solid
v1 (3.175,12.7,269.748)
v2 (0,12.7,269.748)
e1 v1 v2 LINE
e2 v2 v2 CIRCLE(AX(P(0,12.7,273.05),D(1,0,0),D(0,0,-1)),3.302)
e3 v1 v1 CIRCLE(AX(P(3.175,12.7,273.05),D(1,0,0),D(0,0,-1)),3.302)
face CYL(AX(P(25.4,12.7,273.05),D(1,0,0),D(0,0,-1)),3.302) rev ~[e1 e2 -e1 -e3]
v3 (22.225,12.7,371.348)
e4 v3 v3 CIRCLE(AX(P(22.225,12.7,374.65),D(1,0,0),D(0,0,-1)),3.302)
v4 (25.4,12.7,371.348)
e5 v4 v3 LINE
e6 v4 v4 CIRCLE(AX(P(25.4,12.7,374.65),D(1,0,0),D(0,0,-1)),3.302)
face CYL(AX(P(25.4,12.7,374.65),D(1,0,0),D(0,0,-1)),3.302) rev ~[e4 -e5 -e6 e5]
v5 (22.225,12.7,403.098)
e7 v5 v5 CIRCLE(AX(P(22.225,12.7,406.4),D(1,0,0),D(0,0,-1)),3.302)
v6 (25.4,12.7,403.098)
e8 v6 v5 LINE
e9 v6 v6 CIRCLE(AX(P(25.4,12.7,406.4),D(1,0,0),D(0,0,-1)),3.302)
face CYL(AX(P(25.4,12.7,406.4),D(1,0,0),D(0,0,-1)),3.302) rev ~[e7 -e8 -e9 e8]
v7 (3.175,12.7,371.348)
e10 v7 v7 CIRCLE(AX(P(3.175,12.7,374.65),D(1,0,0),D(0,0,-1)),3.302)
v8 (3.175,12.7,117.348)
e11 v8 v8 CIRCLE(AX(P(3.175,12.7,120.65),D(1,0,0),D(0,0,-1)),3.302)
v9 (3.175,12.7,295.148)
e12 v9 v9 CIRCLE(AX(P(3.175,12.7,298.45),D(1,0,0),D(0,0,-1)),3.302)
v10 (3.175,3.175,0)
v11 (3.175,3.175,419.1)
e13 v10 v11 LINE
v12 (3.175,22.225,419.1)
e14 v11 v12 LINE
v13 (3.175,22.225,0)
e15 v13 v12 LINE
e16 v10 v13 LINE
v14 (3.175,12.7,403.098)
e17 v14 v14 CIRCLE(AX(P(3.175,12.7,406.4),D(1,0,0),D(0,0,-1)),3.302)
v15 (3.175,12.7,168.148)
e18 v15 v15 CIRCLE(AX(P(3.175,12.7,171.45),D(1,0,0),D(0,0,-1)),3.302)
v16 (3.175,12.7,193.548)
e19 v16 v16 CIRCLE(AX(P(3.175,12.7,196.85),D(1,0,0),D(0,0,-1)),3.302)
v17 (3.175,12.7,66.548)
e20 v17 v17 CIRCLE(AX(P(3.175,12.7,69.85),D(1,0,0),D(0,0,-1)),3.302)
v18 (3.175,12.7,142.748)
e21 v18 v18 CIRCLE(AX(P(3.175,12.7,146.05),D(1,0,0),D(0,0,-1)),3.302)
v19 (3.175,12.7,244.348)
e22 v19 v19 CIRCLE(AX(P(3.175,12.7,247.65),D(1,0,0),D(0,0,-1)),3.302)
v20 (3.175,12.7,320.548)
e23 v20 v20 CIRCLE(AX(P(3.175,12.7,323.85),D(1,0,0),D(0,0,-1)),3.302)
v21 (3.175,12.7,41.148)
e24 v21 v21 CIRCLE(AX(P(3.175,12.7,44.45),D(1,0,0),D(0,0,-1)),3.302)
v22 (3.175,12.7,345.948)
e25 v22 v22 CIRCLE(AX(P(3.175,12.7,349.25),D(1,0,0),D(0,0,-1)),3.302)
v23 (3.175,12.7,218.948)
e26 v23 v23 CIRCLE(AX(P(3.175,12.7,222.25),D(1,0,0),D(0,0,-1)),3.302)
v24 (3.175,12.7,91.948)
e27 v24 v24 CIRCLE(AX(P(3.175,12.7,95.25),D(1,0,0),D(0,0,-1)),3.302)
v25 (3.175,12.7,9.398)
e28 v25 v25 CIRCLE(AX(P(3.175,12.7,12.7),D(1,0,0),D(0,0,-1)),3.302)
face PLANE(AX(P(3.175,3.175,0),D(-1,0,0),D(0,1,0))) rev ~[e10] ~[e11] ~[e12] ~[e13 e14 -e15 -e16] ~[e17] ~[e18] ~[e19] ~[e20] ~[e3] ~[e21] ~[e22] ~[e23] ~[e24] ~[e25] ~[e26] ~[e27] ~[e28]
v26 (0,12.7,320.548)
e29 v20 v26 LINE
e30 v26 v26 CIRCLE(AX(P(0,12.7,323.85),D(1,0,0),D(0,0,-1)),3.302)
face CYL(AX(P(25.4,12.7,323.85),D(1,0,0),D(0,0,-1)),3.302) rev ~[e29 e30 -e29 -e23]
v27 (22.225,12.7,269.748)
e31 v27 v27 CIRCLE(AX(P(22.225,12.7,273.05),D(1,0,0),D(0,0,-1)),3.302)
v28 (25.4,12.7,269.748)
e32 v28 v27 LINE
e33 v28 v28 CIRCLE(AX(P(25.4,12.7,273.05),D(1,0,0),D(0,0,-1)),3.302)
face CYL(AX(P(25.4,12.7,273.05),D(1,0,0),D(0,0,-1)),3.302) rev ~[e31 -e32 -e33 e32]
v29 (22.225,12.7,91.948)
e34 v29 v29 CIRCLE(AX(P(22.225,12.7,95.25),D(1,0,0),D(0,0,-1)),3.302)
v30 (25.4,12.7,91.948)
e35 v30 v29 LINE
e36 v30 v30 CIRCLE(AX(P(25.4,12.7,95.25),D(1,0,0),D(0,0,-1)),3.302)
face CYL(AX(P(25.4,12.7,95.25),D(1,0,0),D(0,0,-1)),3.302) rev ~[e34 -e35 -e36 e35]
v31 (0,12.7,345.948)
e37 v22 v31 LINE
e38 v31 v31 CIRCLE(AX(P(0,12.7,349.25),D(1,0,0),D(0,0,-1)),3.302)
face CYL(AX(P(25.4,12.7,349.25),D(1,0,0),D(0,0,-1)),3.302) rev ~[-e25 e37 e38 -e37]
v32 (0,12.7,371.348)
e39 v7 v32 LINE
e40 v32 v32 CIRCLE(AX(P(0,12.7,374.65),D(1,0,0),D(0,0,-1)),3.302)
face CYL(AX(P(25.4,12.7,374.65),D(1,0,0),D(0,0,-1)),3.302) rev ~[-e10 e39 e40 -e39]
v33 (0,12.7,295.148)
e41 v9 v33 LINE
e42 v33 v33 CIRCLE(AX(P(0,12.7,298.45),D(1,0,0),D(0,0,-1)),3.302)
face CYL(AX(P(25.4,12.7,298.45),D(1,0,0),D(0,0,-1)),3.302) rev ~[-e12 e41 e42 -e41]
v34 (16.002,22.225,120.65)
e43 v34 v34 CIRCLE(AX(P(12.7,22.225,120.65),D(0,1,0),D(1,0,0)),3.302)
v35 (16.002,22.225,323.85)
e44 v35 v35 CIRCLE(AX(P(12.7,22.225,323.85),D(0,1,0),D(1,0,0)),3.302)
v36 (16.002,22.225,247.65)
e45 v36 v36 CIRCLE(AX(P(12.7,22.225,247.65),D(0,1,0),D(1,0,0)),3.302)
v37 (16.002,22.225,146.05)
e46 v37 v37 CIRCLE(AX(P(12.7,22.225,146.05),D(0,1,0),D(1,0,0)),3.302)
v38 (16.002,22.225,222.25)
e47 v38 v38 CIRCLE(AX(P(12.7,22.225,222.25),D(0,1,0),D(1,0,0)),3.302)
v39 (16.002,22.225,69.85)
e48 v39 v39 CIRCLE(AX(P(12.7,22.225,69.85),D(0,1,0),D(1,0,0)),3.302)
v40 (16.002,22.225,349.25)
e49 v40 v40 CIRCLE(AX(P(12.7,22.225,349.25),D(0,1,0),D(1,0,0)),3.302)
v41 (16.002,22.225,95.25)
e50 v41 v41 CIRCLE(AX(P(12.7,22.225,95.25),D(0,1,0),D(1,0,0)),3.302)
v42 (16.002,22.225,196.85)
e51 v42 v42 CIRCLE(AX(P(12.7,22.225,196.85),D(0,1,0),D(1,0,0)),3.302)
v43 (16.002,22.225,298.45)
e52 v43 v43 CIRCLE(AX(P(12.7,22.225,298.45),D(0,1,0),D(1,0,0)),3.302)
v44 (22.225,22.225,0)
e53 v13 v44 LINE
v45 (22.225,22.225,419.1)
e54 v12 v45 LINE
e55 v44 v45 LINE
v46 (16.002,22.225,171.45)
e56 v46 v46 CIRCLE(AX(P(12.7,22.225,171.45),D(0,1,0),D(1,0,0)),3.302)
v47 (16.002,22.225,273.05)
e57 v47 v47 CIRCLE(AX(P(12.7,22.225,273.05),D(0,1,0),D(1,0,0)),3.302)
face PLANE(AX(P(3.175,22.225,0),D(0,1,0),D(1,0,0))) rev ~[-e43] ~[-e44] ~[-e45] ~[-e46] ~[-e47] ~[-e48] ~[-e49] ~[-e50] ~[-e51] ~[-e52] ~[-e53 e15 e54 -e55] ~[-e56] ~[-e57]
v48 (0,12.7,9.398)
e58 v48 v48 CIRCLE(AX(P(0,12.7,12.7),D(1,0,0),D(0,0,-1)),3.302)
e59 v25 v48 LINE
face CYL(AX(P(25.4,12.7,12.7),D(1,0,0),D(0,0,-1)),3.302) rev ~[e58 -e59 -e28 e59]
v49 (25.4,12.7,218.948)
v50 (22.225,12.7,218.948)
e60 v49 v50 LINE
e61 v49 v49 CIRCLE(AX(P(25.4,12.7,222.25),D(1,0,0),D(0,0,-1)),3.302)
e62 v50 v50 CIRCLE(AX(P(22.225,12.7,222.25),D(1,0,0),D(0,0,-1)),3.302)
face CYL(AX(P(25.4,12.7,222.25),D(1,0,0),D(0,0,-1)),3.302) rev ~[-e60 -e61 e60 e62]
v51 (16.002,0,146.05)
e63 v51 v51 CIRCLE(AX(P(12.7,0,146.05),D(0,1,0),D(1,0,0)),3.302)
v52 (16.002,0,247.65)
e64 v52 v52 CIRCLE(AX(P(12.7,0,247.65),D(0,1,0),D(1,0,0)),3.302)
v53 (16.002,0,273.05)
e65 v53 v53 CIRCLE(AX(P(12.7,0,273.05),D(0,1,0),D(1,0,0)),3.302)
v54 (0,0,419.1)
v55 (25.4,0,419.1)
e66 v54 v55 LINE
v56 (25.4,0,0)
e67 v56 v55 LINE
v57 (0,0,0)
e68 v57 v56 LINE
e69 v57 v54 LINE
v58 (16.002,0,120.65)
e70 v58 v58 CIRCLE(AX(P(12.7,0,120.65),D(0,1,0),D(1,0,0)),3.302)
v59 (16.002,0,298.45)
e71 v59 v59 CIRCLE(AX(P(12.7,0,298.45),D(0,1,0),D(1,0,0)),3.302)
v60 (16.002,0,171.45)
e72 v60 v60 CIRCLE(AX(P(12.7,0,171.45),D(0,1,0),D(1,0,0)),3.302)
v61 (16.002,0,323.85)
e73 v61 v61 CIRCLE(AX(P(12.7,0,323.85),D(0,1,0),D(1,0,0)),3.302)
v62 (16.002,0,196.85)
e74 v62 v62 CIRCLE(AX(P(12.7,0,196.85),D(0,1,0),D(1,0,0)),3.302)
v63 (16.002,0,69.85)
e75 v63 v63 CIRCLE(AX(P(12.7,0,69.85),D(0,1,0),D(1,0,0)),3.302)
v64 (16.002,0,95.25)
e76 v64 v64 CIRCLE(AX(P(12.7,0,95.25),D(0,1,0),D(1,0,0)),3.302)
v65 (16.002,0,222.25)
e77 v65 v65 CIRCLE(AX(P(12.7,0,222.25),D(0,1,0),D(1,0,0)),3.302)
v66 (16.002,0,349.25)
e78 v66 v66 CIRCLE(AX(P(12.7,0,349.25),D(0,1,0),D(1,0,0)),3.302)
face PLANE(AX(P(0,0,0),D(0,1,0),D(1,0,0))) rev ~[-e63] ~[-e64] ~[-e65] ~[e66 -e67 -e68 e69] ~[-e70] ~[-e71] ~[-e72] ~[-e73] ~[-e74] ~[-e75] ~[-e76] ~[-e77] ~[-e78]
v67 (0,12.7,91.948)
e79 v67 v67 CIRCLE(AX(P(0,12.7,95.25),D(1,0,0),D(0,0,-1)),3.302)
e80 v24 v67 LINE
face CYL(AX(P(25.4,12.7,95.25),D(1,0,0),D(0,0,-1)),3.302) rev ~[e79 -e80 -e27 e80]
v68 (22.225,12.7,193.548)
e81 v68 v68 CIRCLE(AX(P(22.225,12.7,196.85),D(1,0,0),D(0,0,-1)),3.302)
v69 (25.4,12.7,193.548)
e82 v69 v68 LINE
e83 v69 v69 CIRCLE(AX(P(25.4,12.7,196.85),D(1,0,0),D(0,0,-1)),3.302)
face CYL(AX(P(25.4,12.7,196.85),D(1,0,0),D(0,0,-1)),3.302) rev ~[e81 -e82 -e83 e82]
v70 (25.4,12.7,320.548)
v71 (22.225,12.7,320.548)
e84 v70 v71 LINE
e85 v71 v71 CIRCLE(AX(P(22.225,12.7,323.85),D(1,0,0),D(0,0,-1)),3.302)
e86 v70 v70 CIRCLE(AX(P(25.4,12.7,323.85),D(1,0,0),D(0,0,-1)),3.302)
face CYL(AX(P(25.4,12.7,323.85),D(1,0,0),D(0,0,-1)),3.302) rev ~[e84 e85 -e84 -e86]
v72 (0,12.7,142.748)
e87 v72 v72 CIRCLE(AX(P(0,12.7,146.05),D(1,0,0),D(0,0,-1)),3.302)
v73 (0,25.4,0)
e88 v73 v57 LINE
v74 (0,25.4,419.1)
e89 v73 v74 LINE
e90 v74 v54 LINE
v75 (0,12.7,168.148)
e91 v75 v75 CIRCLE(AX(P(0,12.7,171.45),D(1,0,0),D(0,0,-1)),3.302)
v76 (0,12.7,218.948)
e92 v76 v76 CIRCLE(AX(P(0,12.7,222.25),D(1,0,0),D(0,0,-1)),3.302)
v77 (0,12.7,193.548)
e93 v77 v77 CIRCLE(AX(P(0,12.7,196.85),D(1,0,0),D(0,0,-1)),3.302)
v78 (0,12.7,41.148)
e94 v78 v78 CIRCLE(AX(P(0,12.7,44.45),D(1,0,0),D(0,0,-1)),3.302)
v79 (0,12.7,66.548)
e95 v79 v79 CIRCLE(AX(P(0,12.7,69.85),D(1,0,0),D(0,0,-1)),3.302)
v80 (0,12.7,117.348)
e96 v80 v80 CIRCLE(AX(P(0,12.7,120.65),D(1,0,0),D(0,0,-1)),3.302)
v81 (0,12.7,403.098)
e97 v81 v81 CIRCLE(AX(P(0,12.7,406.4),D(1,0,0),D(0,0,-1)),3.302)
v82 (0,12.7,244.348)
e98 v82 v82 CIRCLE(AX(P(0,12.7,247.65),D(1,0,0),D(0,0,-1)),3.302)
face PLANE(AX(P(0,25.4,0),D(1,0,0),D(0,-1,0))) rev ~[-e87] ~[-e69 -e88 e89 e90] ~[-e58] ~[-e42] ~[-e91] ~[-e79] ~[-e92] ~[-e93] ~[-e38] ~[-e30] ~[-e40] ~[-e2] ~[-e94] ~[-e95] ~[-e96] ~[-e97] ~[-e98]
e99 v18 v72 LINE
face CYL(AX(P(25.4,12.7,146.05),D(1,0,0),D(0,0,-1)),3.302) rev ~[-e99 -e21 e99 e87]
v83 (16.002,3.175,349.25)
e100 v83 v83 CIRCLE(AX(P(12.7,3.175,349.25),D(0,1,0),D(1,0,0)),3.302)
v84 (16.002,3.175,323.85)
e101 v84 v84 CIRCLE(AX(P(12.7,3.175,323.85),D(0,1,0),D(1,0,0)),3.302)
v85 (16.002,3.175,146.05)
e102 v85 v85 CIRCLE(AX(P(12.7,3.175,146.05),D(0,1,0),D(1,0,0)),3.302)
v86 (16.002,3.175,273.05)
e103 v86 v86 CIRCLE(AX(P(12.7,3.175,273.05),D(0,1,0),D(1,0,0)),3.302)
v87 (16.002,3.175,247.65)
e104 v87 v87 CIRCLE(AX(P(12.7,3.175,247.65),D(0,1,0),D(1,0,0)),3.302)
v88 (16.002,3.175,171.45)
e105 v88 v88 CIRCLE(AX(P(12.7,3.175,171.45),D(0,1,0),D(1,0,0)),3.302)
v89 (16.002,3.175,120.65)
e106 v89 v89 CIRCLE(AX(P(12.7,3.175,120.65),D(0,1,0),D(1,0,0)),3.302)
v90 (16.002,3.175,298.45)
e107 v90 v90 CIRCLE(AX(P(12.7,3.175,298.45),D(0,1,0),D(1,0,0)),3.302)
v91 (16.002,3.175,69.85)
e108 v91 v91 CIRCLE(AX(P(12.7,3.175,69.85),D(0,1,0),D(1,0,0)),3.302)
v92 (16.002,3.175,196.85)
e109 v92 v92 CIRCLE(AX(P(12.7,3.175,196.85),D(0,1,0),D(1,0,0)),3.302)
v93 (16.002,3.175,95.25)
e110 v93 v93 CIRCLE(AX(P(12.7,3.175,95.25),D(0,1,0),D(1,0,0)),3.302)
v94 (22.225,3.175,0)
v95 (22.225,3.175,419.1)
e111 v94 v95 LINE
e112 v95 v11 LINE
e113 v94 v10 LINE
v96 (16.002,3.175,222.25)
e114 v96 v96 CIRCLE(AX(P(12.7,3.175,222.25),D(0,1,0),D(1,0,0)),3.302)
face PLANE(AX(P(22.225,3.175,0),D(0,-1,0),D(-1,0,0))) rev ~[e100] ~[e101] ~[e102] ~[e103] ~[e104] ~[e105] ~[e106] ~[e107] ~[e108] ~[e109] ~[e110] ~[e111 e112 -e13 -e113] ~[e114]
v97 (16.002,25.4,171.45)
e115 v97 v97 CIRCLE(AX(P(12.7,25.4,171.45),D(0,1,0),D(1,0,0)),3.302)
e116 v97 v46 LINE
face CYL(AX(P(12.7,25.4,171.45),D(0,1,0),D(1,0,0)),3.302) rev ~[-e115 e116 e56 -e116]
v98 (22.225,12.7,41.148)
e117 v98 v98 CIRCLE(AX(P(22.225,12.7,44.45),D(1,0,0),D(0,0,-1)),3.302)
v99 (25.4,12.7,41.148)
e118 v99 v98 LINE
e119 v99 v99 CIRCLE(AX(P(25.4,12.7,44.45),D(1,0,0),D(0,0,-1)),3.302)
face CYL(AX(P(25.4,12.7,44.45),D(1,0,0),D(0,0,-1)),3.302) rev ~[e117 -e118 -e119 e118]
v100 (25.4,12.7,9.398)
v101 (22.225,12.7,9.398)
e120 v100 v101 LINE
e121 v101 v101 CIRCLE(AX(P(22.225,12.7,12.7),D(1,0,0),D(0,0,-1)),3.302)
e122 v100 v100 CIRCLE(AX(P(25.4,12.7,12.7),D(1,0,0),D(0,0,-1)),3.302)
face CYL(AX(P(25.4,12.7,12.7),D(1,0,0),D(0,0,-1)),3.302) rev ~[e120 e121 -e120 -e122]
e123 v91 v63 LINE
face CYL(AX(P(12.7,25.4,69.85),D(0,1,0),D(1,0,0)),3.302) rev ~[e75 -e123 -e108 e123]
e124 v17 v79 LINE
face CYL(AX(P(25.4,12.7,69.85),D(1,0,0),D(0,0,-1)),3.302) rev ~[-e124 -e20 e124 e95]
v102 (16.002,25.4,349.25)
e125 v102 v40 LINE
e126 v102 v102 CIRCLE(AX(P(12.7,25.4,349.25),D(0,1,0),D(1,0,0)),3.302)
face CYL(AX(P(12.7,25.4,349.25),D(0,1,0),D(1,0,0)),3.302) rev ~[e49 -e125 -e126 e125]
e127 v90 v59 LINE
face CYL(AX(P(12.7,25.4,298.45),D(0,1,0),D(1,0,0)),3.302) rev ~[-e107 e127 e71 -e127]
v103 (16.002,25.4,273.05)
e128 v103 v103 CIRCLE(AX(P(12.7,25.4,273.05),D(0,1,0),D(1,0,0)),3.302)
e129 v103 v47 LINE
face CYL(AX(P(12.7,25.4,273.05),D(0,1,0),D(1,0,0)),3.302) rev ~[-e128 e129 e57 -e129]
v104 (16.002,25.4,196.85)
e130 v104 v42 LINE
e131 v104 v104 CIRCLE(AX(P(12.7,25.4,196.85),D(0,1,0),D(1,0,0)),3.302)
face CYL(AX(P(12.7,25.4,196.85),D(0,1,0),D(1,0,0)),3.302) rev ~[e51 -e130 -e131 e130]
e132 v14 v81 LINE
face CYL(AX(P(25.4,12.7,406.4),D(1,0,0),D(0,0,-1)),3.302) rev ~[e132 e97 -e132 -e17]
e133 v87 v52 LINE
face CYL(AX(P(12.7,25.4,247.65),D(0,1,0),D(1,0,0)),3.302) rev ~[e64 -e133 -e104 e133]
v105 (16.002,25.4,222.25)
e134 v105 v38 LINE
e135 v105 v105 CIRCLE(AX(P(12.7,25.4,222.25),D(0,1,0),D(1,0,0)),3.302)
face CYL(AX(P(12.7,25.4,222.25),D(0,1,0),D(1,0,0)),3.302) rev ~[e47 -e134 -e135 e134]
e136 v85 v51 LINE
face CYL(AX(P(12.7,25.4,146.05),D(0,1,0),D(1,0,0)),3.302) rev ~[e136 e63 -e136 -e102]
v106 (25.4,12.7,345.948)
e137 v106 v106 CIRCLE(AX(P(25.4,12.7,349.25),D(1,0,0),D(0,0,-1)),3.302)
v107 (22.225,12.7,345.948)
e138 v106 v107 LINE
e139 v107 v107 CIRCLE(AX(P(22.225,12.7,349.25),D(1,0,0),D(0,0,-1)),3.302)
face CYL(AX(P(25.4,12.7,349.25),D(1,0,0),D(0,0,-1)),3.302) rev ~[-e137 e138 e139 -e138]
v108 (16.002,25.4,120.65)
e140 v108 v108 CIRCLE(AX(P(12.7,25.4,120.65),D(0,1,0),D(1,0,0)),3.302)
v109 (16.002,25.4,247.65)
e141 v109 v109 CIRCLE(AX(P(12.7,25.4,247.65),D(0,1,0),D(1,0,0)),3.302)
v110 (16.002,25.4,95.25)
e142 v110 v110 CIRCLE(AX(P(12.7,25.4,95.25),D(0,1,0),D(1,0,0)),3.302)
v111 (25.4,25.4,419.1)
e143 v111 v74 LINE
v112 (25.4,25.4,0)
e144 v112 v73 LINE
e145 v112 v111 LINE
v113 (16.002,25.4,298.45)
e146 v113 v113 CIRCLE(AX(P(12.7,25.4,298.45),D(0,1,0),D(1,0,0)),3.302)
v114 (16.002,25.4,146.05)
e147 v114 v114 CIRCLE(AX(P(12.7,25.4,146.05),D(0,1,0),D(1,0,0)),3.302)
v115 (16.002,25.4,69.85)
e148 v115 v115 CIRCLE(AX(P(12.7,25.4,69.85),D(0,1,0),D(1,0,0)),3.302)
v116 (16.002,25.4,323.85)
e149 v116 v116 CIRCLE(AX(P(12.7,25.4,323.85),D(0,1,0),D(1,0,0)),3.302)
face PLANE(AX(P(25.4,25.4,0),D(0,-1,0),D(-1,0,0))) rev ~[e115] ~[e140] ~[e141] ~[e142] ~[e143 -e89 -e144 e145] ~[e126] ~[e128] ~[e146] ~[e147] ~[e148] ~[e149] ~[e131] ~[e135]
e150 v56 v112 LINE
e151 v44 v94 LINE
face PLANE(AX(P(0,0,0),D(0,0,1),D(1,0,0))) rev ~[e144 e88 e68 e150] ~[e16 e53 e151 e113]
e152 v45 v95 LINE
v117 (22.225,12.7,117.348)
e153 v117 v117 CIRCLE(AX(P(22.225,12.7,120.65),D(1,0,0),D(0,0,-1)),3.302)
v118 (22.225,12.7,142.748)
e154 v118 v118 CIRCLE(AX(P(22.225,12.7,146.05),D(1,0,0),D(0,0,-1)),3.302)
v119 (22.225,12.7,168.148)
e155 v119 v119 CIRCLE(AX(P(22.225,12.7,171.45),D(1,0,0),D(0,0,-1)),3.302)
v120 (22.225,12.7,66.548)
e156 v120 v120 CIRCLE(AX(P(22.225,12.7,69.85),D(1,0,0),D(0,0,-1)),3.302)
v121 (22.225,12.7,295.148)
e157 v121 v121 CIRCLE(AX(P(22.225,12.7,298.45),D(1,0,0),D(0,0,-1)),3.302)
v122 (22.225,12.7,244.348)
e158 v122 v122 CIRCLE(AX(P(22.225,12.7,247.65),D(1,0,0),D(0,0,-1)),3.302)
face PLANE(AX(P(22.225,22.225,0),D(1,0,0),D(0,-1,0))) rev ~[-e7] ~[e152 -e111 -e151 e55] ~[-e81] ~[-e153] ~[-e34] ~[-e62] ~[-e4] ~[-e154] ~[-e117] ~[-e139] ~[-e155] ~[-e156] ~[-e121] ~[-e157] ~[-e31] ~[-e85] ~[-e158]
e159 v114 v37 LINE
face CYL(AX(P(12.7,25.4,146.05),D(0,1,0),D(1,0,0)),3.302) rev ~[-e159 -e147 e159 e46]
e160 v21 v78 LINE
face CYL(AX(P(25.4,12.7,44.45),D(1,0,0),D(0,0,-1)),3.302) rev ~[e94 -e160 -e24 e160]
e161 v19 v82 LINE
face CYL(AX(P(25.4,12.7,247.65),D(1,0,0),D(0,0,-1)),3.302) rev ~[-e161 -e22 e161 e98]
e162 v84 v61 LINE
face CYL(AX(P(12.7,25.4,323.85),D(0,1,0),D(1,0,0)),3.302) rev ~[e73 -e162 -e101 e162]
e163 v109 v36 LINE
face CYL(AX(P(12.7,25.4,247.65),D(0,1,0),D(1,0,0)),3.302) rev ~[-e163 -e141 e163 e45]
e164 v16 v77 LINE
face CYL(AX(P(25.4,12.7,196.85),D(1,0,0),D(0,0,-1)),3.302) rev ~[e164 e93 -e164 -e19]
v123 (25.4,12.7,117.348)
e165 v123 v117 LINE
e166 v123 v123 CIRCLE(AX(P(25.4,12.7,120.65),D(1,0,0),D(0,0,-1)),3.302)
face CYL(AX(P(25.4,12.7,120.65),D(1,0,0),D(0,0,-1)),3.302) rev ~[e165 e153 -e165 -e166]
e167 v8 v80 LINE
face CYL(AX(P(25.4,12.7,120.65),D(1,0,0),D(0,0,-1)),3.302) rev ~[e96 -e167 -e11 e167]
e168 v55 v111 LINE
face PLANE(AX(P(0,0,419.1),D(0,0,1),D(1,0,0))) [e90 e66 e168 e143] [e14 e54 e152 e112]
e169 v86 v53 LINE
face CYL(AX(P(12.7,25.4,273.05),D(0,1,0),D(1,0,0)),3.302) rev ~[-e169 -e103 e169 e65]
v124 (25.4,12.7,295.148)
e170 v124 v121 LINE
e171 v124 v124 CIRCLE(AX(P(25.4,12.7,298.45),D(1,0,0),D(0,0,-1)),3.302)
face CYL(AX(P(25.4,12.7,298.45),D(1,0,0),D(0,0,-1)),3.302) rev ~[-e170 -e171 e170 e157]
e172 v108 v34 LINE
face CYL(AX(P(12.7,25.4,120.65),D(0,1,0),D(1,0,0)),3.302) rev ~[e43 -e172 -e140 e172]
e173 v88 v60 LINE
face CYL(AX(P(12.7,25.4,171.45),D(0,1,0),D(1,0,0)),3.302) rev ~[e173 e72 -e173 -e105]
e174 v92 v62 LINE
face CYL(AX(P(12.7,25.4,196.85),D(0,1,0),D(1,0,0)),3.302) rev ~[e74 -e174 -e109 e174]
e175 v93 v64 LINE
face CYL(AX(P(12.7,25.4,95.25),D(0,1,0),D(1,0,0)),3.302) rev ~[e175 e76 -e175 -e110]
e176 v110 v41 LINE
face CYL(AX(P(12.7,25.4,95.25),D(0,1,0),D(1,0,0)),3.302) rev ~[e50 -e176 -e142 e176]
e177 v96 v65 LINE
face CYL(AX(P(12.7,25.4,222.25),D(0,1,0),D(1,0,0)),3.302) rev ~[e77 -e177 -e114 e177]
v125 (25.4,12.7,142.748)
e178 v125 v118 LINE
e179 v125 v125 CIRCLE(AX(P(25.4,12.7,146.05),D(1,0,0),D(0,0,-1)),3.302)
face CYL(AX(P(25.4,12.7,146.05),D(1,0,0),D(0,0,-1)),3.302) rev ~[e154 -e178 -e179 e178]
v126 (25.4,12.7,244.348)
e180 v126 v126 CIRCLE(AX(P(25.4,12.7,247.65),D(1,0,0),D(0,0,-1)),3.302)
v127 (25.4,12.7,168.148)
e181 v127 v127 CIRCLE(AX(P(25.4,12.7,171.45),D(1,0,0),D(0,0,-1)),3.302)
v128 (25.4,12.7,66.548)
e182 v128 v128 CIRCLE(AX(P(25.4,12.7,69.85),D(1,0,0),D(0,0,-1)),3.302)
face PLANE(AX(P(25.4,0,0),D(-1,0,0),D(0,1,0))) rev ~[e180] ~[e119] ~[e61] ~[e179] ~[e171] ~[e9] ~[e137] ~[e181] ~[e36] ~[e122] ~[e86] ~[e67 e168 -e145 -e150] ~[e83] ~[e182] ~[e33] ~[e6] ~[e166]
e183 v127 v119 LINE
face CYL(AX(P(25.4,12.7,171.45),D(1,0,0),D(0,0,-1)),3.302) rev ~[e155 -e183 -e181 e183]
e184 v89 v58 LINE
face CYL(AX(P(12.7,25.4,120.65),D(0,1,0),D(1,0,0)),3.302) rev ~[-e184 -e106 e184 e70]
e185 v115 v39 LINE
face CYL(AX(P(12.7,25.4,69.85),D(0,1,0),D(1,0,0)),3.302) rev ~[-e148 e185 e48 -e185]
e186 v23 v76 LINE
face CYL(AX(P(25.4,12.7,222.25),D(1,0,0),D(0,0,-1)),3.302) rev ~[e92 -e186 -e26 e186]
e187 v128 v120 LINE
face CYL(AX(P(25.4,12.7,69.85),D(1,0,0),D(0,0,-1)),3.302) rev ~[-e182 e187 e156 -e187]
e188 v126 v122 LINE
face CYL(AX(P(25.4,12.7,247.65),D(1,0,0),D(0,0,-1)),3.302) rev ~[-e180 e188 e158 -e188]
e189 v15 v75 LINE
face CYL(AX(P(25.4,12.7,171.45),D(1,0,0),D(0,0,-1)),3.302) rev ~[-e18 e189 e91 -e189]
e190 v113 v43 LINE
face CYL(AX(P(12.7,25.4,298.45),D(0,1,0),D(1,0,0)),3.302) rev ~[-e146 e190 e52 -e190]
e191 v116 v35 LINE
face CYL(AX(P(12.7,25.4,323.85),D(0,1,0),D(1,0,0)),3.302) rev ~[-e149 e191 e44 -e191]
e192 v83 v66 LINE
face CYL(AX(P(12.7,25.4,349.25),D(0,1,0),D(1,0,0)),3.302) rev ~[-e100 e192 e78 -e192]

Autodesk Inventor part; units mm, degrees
ref_plane "YZ Plane" through (0, 0, 0) normal (1, 0, 0) x (0, 1, 0)
ref_plane "XZ Plane" through (0, 0, 0) normal (0, 1, 0) x (-1, 0, 0)
ref_plane "XY Plane" through (0, 0, 0) normal (0, 0, 1) x (1, 0, 0)
sketch "Sketch1" plane through (0, 0, 0) normal (0, 0, 1) x (1, 0, 0)
  line L0 (0, 0) -> (25.4, 0)
  line L1 (25.4, 0) -> (25.4, 25.4)
  line L2 (25.4, 25.4) -> (0, 25.4)
  line L3 (0, 25.4) -> (0, 0)
  line L4 (3.175, 22.225) -> (22.225, 22.225)
  line L5 (22.225, 22.225) -> (22.225, 3.175)
  line L6 (22.225, 3.175) -> (3.175, 3.175)
  line L7 (3.175, 3.175) -> (3.175, 22.225)
  dimension "d0" = 25.4
  dimension "d1" = 25.4
  dimension "d2" = 3.175
extrude "Extrusion1" add sketch "Sketch1" along normal blind 419.1
sketch "Sketch2" plane through (25.4, 0, 0) normal (1, 0, 0) x (0, 0, -1)
  line L0 (-419.1, 0) -> (-419.1, 25.4) projected
  line L1 (0, 0) -> (-419.1, 0) projected
  line L2 (-419.1, 12.7) -> (-400.05, 12.7) construction
  circle A0 centre (-400.05, 12.7) radius 3.302 construction
  circle A1 centre (-374.65, 12.7) radius 3.302
  circle A2 centre (-349.25, 12.7) radius 3.302
  circle A3 centre (-323.85, 12.7) radius 3.302
  circle A4 centre (-298.45, 12.7) radius 3.302
  circle A5 centre (-273.05, 12.7) radius 3.302
  circle A6 centre (-247.65, 12.7) radius 3.302
  circle A7 centre (-222.25, 12.7) radius 3.302
  circle A8 centre (-196.85, 12.7) radius 3.302
  circle A9 centre (-171.45, 12.7) radius 3.302
  circle A10 centre (-146.05, 12.7) radius 3.302
  circle A11 centre (-120.65, 12.7) radius 3.302
  circle A12 centre (-95.25, 12.7) radius 3.302
  circle A13 centre (-69.85, 12.7) radius 3.302
  circle A14 centre (-44.45, 12.7) radius 3.302
  circle A15 centre (-19.05, 12.7) radius 3.302 construction
  line L3 (0, 0) -> (0, 25.4) projected
  circle A16 centre (-406.4, 12.7) radius 3.302
  circle A17 centre (-12.7, 12.7) radius 3.302
  line L4 (-12.7, 12.7) -> (0, 12.7) construction
  dimension "d5" = 19.05
  dimension "d7" = 6.604
  dimension "d10" = 419.1
  dimension "d13" = 25.4
  dimension "d18" = 19.05
  dimension "d19" = 12.7
  dimension "d20" = 6.604
  dimension "d21" = 6.604
  dimension "d22" = 12.7
extrude "Extrusion2" cut sketch "Sketch2" against normal through all
sketch "Sketch3" plane through (0, 25.4, 0) normal (0, 1, 0) x (1, 0, 0)
  line L0 (25.4, 0) -> (0, 0) projected
  line L1 (25.4, -419.1) -> (0, -419.1) projected
  circle A0 centre (12.7, -400.05) radius 3.302 construction
  line L2 (12.7, -419.1) -> (12.7, 0) construction
  circle A1 centre (12.7, -374.65) radius 3.302 construction
  circle A2 centre (12.7, -349.25) radius 3.302
  circle A3 centre (12.7, -323.85) radius 3.302
  circle A4 centre (12.7, -298.45) radius 3.302
  circle A5 centre (12.7, -273.05) radius 3.302
  circle A6 centre (12.7, -247.65) radius 3.302
  circle A7 centre (12.7, -222.25) radius 3.302
  circle A8 centre (12.7, -196.85) radius 3.302
  circle A9 centre (12.7, -171.45) radius 3.302
  circle A10 centre (12.7, -146.05) radius 3.302
  circle A11 centre (12.7, -120.65) radius 3.302
  circle A12 centre (12.7, -95.25) radius 3.302
  circle A13 centre (12.7, -69.85) radius 3.302
  circle A14 centre (12.7, -44.45) radius 3.302 construction
  circle A15 centre (12.7, -19.05) radius 3.302 construction
  dimension "d23" = 6.604
  dimension "d25" = 19.05
  dimension "d28" = 25.4
  dimension "d33" = 19.05
extrude "Extrusion3" cut sketch "Sketch3" against normal blind 25.4
equation "\"d13\" = -0.133333 * d5 + 0.0666667 * d10"
equation "\"d20\" = d7"
equation "\"d21\" = d7"
equation "\"d22\" = d19"
properties part number "Chassis V1.500 Part7" material "Aluminum 6061"
